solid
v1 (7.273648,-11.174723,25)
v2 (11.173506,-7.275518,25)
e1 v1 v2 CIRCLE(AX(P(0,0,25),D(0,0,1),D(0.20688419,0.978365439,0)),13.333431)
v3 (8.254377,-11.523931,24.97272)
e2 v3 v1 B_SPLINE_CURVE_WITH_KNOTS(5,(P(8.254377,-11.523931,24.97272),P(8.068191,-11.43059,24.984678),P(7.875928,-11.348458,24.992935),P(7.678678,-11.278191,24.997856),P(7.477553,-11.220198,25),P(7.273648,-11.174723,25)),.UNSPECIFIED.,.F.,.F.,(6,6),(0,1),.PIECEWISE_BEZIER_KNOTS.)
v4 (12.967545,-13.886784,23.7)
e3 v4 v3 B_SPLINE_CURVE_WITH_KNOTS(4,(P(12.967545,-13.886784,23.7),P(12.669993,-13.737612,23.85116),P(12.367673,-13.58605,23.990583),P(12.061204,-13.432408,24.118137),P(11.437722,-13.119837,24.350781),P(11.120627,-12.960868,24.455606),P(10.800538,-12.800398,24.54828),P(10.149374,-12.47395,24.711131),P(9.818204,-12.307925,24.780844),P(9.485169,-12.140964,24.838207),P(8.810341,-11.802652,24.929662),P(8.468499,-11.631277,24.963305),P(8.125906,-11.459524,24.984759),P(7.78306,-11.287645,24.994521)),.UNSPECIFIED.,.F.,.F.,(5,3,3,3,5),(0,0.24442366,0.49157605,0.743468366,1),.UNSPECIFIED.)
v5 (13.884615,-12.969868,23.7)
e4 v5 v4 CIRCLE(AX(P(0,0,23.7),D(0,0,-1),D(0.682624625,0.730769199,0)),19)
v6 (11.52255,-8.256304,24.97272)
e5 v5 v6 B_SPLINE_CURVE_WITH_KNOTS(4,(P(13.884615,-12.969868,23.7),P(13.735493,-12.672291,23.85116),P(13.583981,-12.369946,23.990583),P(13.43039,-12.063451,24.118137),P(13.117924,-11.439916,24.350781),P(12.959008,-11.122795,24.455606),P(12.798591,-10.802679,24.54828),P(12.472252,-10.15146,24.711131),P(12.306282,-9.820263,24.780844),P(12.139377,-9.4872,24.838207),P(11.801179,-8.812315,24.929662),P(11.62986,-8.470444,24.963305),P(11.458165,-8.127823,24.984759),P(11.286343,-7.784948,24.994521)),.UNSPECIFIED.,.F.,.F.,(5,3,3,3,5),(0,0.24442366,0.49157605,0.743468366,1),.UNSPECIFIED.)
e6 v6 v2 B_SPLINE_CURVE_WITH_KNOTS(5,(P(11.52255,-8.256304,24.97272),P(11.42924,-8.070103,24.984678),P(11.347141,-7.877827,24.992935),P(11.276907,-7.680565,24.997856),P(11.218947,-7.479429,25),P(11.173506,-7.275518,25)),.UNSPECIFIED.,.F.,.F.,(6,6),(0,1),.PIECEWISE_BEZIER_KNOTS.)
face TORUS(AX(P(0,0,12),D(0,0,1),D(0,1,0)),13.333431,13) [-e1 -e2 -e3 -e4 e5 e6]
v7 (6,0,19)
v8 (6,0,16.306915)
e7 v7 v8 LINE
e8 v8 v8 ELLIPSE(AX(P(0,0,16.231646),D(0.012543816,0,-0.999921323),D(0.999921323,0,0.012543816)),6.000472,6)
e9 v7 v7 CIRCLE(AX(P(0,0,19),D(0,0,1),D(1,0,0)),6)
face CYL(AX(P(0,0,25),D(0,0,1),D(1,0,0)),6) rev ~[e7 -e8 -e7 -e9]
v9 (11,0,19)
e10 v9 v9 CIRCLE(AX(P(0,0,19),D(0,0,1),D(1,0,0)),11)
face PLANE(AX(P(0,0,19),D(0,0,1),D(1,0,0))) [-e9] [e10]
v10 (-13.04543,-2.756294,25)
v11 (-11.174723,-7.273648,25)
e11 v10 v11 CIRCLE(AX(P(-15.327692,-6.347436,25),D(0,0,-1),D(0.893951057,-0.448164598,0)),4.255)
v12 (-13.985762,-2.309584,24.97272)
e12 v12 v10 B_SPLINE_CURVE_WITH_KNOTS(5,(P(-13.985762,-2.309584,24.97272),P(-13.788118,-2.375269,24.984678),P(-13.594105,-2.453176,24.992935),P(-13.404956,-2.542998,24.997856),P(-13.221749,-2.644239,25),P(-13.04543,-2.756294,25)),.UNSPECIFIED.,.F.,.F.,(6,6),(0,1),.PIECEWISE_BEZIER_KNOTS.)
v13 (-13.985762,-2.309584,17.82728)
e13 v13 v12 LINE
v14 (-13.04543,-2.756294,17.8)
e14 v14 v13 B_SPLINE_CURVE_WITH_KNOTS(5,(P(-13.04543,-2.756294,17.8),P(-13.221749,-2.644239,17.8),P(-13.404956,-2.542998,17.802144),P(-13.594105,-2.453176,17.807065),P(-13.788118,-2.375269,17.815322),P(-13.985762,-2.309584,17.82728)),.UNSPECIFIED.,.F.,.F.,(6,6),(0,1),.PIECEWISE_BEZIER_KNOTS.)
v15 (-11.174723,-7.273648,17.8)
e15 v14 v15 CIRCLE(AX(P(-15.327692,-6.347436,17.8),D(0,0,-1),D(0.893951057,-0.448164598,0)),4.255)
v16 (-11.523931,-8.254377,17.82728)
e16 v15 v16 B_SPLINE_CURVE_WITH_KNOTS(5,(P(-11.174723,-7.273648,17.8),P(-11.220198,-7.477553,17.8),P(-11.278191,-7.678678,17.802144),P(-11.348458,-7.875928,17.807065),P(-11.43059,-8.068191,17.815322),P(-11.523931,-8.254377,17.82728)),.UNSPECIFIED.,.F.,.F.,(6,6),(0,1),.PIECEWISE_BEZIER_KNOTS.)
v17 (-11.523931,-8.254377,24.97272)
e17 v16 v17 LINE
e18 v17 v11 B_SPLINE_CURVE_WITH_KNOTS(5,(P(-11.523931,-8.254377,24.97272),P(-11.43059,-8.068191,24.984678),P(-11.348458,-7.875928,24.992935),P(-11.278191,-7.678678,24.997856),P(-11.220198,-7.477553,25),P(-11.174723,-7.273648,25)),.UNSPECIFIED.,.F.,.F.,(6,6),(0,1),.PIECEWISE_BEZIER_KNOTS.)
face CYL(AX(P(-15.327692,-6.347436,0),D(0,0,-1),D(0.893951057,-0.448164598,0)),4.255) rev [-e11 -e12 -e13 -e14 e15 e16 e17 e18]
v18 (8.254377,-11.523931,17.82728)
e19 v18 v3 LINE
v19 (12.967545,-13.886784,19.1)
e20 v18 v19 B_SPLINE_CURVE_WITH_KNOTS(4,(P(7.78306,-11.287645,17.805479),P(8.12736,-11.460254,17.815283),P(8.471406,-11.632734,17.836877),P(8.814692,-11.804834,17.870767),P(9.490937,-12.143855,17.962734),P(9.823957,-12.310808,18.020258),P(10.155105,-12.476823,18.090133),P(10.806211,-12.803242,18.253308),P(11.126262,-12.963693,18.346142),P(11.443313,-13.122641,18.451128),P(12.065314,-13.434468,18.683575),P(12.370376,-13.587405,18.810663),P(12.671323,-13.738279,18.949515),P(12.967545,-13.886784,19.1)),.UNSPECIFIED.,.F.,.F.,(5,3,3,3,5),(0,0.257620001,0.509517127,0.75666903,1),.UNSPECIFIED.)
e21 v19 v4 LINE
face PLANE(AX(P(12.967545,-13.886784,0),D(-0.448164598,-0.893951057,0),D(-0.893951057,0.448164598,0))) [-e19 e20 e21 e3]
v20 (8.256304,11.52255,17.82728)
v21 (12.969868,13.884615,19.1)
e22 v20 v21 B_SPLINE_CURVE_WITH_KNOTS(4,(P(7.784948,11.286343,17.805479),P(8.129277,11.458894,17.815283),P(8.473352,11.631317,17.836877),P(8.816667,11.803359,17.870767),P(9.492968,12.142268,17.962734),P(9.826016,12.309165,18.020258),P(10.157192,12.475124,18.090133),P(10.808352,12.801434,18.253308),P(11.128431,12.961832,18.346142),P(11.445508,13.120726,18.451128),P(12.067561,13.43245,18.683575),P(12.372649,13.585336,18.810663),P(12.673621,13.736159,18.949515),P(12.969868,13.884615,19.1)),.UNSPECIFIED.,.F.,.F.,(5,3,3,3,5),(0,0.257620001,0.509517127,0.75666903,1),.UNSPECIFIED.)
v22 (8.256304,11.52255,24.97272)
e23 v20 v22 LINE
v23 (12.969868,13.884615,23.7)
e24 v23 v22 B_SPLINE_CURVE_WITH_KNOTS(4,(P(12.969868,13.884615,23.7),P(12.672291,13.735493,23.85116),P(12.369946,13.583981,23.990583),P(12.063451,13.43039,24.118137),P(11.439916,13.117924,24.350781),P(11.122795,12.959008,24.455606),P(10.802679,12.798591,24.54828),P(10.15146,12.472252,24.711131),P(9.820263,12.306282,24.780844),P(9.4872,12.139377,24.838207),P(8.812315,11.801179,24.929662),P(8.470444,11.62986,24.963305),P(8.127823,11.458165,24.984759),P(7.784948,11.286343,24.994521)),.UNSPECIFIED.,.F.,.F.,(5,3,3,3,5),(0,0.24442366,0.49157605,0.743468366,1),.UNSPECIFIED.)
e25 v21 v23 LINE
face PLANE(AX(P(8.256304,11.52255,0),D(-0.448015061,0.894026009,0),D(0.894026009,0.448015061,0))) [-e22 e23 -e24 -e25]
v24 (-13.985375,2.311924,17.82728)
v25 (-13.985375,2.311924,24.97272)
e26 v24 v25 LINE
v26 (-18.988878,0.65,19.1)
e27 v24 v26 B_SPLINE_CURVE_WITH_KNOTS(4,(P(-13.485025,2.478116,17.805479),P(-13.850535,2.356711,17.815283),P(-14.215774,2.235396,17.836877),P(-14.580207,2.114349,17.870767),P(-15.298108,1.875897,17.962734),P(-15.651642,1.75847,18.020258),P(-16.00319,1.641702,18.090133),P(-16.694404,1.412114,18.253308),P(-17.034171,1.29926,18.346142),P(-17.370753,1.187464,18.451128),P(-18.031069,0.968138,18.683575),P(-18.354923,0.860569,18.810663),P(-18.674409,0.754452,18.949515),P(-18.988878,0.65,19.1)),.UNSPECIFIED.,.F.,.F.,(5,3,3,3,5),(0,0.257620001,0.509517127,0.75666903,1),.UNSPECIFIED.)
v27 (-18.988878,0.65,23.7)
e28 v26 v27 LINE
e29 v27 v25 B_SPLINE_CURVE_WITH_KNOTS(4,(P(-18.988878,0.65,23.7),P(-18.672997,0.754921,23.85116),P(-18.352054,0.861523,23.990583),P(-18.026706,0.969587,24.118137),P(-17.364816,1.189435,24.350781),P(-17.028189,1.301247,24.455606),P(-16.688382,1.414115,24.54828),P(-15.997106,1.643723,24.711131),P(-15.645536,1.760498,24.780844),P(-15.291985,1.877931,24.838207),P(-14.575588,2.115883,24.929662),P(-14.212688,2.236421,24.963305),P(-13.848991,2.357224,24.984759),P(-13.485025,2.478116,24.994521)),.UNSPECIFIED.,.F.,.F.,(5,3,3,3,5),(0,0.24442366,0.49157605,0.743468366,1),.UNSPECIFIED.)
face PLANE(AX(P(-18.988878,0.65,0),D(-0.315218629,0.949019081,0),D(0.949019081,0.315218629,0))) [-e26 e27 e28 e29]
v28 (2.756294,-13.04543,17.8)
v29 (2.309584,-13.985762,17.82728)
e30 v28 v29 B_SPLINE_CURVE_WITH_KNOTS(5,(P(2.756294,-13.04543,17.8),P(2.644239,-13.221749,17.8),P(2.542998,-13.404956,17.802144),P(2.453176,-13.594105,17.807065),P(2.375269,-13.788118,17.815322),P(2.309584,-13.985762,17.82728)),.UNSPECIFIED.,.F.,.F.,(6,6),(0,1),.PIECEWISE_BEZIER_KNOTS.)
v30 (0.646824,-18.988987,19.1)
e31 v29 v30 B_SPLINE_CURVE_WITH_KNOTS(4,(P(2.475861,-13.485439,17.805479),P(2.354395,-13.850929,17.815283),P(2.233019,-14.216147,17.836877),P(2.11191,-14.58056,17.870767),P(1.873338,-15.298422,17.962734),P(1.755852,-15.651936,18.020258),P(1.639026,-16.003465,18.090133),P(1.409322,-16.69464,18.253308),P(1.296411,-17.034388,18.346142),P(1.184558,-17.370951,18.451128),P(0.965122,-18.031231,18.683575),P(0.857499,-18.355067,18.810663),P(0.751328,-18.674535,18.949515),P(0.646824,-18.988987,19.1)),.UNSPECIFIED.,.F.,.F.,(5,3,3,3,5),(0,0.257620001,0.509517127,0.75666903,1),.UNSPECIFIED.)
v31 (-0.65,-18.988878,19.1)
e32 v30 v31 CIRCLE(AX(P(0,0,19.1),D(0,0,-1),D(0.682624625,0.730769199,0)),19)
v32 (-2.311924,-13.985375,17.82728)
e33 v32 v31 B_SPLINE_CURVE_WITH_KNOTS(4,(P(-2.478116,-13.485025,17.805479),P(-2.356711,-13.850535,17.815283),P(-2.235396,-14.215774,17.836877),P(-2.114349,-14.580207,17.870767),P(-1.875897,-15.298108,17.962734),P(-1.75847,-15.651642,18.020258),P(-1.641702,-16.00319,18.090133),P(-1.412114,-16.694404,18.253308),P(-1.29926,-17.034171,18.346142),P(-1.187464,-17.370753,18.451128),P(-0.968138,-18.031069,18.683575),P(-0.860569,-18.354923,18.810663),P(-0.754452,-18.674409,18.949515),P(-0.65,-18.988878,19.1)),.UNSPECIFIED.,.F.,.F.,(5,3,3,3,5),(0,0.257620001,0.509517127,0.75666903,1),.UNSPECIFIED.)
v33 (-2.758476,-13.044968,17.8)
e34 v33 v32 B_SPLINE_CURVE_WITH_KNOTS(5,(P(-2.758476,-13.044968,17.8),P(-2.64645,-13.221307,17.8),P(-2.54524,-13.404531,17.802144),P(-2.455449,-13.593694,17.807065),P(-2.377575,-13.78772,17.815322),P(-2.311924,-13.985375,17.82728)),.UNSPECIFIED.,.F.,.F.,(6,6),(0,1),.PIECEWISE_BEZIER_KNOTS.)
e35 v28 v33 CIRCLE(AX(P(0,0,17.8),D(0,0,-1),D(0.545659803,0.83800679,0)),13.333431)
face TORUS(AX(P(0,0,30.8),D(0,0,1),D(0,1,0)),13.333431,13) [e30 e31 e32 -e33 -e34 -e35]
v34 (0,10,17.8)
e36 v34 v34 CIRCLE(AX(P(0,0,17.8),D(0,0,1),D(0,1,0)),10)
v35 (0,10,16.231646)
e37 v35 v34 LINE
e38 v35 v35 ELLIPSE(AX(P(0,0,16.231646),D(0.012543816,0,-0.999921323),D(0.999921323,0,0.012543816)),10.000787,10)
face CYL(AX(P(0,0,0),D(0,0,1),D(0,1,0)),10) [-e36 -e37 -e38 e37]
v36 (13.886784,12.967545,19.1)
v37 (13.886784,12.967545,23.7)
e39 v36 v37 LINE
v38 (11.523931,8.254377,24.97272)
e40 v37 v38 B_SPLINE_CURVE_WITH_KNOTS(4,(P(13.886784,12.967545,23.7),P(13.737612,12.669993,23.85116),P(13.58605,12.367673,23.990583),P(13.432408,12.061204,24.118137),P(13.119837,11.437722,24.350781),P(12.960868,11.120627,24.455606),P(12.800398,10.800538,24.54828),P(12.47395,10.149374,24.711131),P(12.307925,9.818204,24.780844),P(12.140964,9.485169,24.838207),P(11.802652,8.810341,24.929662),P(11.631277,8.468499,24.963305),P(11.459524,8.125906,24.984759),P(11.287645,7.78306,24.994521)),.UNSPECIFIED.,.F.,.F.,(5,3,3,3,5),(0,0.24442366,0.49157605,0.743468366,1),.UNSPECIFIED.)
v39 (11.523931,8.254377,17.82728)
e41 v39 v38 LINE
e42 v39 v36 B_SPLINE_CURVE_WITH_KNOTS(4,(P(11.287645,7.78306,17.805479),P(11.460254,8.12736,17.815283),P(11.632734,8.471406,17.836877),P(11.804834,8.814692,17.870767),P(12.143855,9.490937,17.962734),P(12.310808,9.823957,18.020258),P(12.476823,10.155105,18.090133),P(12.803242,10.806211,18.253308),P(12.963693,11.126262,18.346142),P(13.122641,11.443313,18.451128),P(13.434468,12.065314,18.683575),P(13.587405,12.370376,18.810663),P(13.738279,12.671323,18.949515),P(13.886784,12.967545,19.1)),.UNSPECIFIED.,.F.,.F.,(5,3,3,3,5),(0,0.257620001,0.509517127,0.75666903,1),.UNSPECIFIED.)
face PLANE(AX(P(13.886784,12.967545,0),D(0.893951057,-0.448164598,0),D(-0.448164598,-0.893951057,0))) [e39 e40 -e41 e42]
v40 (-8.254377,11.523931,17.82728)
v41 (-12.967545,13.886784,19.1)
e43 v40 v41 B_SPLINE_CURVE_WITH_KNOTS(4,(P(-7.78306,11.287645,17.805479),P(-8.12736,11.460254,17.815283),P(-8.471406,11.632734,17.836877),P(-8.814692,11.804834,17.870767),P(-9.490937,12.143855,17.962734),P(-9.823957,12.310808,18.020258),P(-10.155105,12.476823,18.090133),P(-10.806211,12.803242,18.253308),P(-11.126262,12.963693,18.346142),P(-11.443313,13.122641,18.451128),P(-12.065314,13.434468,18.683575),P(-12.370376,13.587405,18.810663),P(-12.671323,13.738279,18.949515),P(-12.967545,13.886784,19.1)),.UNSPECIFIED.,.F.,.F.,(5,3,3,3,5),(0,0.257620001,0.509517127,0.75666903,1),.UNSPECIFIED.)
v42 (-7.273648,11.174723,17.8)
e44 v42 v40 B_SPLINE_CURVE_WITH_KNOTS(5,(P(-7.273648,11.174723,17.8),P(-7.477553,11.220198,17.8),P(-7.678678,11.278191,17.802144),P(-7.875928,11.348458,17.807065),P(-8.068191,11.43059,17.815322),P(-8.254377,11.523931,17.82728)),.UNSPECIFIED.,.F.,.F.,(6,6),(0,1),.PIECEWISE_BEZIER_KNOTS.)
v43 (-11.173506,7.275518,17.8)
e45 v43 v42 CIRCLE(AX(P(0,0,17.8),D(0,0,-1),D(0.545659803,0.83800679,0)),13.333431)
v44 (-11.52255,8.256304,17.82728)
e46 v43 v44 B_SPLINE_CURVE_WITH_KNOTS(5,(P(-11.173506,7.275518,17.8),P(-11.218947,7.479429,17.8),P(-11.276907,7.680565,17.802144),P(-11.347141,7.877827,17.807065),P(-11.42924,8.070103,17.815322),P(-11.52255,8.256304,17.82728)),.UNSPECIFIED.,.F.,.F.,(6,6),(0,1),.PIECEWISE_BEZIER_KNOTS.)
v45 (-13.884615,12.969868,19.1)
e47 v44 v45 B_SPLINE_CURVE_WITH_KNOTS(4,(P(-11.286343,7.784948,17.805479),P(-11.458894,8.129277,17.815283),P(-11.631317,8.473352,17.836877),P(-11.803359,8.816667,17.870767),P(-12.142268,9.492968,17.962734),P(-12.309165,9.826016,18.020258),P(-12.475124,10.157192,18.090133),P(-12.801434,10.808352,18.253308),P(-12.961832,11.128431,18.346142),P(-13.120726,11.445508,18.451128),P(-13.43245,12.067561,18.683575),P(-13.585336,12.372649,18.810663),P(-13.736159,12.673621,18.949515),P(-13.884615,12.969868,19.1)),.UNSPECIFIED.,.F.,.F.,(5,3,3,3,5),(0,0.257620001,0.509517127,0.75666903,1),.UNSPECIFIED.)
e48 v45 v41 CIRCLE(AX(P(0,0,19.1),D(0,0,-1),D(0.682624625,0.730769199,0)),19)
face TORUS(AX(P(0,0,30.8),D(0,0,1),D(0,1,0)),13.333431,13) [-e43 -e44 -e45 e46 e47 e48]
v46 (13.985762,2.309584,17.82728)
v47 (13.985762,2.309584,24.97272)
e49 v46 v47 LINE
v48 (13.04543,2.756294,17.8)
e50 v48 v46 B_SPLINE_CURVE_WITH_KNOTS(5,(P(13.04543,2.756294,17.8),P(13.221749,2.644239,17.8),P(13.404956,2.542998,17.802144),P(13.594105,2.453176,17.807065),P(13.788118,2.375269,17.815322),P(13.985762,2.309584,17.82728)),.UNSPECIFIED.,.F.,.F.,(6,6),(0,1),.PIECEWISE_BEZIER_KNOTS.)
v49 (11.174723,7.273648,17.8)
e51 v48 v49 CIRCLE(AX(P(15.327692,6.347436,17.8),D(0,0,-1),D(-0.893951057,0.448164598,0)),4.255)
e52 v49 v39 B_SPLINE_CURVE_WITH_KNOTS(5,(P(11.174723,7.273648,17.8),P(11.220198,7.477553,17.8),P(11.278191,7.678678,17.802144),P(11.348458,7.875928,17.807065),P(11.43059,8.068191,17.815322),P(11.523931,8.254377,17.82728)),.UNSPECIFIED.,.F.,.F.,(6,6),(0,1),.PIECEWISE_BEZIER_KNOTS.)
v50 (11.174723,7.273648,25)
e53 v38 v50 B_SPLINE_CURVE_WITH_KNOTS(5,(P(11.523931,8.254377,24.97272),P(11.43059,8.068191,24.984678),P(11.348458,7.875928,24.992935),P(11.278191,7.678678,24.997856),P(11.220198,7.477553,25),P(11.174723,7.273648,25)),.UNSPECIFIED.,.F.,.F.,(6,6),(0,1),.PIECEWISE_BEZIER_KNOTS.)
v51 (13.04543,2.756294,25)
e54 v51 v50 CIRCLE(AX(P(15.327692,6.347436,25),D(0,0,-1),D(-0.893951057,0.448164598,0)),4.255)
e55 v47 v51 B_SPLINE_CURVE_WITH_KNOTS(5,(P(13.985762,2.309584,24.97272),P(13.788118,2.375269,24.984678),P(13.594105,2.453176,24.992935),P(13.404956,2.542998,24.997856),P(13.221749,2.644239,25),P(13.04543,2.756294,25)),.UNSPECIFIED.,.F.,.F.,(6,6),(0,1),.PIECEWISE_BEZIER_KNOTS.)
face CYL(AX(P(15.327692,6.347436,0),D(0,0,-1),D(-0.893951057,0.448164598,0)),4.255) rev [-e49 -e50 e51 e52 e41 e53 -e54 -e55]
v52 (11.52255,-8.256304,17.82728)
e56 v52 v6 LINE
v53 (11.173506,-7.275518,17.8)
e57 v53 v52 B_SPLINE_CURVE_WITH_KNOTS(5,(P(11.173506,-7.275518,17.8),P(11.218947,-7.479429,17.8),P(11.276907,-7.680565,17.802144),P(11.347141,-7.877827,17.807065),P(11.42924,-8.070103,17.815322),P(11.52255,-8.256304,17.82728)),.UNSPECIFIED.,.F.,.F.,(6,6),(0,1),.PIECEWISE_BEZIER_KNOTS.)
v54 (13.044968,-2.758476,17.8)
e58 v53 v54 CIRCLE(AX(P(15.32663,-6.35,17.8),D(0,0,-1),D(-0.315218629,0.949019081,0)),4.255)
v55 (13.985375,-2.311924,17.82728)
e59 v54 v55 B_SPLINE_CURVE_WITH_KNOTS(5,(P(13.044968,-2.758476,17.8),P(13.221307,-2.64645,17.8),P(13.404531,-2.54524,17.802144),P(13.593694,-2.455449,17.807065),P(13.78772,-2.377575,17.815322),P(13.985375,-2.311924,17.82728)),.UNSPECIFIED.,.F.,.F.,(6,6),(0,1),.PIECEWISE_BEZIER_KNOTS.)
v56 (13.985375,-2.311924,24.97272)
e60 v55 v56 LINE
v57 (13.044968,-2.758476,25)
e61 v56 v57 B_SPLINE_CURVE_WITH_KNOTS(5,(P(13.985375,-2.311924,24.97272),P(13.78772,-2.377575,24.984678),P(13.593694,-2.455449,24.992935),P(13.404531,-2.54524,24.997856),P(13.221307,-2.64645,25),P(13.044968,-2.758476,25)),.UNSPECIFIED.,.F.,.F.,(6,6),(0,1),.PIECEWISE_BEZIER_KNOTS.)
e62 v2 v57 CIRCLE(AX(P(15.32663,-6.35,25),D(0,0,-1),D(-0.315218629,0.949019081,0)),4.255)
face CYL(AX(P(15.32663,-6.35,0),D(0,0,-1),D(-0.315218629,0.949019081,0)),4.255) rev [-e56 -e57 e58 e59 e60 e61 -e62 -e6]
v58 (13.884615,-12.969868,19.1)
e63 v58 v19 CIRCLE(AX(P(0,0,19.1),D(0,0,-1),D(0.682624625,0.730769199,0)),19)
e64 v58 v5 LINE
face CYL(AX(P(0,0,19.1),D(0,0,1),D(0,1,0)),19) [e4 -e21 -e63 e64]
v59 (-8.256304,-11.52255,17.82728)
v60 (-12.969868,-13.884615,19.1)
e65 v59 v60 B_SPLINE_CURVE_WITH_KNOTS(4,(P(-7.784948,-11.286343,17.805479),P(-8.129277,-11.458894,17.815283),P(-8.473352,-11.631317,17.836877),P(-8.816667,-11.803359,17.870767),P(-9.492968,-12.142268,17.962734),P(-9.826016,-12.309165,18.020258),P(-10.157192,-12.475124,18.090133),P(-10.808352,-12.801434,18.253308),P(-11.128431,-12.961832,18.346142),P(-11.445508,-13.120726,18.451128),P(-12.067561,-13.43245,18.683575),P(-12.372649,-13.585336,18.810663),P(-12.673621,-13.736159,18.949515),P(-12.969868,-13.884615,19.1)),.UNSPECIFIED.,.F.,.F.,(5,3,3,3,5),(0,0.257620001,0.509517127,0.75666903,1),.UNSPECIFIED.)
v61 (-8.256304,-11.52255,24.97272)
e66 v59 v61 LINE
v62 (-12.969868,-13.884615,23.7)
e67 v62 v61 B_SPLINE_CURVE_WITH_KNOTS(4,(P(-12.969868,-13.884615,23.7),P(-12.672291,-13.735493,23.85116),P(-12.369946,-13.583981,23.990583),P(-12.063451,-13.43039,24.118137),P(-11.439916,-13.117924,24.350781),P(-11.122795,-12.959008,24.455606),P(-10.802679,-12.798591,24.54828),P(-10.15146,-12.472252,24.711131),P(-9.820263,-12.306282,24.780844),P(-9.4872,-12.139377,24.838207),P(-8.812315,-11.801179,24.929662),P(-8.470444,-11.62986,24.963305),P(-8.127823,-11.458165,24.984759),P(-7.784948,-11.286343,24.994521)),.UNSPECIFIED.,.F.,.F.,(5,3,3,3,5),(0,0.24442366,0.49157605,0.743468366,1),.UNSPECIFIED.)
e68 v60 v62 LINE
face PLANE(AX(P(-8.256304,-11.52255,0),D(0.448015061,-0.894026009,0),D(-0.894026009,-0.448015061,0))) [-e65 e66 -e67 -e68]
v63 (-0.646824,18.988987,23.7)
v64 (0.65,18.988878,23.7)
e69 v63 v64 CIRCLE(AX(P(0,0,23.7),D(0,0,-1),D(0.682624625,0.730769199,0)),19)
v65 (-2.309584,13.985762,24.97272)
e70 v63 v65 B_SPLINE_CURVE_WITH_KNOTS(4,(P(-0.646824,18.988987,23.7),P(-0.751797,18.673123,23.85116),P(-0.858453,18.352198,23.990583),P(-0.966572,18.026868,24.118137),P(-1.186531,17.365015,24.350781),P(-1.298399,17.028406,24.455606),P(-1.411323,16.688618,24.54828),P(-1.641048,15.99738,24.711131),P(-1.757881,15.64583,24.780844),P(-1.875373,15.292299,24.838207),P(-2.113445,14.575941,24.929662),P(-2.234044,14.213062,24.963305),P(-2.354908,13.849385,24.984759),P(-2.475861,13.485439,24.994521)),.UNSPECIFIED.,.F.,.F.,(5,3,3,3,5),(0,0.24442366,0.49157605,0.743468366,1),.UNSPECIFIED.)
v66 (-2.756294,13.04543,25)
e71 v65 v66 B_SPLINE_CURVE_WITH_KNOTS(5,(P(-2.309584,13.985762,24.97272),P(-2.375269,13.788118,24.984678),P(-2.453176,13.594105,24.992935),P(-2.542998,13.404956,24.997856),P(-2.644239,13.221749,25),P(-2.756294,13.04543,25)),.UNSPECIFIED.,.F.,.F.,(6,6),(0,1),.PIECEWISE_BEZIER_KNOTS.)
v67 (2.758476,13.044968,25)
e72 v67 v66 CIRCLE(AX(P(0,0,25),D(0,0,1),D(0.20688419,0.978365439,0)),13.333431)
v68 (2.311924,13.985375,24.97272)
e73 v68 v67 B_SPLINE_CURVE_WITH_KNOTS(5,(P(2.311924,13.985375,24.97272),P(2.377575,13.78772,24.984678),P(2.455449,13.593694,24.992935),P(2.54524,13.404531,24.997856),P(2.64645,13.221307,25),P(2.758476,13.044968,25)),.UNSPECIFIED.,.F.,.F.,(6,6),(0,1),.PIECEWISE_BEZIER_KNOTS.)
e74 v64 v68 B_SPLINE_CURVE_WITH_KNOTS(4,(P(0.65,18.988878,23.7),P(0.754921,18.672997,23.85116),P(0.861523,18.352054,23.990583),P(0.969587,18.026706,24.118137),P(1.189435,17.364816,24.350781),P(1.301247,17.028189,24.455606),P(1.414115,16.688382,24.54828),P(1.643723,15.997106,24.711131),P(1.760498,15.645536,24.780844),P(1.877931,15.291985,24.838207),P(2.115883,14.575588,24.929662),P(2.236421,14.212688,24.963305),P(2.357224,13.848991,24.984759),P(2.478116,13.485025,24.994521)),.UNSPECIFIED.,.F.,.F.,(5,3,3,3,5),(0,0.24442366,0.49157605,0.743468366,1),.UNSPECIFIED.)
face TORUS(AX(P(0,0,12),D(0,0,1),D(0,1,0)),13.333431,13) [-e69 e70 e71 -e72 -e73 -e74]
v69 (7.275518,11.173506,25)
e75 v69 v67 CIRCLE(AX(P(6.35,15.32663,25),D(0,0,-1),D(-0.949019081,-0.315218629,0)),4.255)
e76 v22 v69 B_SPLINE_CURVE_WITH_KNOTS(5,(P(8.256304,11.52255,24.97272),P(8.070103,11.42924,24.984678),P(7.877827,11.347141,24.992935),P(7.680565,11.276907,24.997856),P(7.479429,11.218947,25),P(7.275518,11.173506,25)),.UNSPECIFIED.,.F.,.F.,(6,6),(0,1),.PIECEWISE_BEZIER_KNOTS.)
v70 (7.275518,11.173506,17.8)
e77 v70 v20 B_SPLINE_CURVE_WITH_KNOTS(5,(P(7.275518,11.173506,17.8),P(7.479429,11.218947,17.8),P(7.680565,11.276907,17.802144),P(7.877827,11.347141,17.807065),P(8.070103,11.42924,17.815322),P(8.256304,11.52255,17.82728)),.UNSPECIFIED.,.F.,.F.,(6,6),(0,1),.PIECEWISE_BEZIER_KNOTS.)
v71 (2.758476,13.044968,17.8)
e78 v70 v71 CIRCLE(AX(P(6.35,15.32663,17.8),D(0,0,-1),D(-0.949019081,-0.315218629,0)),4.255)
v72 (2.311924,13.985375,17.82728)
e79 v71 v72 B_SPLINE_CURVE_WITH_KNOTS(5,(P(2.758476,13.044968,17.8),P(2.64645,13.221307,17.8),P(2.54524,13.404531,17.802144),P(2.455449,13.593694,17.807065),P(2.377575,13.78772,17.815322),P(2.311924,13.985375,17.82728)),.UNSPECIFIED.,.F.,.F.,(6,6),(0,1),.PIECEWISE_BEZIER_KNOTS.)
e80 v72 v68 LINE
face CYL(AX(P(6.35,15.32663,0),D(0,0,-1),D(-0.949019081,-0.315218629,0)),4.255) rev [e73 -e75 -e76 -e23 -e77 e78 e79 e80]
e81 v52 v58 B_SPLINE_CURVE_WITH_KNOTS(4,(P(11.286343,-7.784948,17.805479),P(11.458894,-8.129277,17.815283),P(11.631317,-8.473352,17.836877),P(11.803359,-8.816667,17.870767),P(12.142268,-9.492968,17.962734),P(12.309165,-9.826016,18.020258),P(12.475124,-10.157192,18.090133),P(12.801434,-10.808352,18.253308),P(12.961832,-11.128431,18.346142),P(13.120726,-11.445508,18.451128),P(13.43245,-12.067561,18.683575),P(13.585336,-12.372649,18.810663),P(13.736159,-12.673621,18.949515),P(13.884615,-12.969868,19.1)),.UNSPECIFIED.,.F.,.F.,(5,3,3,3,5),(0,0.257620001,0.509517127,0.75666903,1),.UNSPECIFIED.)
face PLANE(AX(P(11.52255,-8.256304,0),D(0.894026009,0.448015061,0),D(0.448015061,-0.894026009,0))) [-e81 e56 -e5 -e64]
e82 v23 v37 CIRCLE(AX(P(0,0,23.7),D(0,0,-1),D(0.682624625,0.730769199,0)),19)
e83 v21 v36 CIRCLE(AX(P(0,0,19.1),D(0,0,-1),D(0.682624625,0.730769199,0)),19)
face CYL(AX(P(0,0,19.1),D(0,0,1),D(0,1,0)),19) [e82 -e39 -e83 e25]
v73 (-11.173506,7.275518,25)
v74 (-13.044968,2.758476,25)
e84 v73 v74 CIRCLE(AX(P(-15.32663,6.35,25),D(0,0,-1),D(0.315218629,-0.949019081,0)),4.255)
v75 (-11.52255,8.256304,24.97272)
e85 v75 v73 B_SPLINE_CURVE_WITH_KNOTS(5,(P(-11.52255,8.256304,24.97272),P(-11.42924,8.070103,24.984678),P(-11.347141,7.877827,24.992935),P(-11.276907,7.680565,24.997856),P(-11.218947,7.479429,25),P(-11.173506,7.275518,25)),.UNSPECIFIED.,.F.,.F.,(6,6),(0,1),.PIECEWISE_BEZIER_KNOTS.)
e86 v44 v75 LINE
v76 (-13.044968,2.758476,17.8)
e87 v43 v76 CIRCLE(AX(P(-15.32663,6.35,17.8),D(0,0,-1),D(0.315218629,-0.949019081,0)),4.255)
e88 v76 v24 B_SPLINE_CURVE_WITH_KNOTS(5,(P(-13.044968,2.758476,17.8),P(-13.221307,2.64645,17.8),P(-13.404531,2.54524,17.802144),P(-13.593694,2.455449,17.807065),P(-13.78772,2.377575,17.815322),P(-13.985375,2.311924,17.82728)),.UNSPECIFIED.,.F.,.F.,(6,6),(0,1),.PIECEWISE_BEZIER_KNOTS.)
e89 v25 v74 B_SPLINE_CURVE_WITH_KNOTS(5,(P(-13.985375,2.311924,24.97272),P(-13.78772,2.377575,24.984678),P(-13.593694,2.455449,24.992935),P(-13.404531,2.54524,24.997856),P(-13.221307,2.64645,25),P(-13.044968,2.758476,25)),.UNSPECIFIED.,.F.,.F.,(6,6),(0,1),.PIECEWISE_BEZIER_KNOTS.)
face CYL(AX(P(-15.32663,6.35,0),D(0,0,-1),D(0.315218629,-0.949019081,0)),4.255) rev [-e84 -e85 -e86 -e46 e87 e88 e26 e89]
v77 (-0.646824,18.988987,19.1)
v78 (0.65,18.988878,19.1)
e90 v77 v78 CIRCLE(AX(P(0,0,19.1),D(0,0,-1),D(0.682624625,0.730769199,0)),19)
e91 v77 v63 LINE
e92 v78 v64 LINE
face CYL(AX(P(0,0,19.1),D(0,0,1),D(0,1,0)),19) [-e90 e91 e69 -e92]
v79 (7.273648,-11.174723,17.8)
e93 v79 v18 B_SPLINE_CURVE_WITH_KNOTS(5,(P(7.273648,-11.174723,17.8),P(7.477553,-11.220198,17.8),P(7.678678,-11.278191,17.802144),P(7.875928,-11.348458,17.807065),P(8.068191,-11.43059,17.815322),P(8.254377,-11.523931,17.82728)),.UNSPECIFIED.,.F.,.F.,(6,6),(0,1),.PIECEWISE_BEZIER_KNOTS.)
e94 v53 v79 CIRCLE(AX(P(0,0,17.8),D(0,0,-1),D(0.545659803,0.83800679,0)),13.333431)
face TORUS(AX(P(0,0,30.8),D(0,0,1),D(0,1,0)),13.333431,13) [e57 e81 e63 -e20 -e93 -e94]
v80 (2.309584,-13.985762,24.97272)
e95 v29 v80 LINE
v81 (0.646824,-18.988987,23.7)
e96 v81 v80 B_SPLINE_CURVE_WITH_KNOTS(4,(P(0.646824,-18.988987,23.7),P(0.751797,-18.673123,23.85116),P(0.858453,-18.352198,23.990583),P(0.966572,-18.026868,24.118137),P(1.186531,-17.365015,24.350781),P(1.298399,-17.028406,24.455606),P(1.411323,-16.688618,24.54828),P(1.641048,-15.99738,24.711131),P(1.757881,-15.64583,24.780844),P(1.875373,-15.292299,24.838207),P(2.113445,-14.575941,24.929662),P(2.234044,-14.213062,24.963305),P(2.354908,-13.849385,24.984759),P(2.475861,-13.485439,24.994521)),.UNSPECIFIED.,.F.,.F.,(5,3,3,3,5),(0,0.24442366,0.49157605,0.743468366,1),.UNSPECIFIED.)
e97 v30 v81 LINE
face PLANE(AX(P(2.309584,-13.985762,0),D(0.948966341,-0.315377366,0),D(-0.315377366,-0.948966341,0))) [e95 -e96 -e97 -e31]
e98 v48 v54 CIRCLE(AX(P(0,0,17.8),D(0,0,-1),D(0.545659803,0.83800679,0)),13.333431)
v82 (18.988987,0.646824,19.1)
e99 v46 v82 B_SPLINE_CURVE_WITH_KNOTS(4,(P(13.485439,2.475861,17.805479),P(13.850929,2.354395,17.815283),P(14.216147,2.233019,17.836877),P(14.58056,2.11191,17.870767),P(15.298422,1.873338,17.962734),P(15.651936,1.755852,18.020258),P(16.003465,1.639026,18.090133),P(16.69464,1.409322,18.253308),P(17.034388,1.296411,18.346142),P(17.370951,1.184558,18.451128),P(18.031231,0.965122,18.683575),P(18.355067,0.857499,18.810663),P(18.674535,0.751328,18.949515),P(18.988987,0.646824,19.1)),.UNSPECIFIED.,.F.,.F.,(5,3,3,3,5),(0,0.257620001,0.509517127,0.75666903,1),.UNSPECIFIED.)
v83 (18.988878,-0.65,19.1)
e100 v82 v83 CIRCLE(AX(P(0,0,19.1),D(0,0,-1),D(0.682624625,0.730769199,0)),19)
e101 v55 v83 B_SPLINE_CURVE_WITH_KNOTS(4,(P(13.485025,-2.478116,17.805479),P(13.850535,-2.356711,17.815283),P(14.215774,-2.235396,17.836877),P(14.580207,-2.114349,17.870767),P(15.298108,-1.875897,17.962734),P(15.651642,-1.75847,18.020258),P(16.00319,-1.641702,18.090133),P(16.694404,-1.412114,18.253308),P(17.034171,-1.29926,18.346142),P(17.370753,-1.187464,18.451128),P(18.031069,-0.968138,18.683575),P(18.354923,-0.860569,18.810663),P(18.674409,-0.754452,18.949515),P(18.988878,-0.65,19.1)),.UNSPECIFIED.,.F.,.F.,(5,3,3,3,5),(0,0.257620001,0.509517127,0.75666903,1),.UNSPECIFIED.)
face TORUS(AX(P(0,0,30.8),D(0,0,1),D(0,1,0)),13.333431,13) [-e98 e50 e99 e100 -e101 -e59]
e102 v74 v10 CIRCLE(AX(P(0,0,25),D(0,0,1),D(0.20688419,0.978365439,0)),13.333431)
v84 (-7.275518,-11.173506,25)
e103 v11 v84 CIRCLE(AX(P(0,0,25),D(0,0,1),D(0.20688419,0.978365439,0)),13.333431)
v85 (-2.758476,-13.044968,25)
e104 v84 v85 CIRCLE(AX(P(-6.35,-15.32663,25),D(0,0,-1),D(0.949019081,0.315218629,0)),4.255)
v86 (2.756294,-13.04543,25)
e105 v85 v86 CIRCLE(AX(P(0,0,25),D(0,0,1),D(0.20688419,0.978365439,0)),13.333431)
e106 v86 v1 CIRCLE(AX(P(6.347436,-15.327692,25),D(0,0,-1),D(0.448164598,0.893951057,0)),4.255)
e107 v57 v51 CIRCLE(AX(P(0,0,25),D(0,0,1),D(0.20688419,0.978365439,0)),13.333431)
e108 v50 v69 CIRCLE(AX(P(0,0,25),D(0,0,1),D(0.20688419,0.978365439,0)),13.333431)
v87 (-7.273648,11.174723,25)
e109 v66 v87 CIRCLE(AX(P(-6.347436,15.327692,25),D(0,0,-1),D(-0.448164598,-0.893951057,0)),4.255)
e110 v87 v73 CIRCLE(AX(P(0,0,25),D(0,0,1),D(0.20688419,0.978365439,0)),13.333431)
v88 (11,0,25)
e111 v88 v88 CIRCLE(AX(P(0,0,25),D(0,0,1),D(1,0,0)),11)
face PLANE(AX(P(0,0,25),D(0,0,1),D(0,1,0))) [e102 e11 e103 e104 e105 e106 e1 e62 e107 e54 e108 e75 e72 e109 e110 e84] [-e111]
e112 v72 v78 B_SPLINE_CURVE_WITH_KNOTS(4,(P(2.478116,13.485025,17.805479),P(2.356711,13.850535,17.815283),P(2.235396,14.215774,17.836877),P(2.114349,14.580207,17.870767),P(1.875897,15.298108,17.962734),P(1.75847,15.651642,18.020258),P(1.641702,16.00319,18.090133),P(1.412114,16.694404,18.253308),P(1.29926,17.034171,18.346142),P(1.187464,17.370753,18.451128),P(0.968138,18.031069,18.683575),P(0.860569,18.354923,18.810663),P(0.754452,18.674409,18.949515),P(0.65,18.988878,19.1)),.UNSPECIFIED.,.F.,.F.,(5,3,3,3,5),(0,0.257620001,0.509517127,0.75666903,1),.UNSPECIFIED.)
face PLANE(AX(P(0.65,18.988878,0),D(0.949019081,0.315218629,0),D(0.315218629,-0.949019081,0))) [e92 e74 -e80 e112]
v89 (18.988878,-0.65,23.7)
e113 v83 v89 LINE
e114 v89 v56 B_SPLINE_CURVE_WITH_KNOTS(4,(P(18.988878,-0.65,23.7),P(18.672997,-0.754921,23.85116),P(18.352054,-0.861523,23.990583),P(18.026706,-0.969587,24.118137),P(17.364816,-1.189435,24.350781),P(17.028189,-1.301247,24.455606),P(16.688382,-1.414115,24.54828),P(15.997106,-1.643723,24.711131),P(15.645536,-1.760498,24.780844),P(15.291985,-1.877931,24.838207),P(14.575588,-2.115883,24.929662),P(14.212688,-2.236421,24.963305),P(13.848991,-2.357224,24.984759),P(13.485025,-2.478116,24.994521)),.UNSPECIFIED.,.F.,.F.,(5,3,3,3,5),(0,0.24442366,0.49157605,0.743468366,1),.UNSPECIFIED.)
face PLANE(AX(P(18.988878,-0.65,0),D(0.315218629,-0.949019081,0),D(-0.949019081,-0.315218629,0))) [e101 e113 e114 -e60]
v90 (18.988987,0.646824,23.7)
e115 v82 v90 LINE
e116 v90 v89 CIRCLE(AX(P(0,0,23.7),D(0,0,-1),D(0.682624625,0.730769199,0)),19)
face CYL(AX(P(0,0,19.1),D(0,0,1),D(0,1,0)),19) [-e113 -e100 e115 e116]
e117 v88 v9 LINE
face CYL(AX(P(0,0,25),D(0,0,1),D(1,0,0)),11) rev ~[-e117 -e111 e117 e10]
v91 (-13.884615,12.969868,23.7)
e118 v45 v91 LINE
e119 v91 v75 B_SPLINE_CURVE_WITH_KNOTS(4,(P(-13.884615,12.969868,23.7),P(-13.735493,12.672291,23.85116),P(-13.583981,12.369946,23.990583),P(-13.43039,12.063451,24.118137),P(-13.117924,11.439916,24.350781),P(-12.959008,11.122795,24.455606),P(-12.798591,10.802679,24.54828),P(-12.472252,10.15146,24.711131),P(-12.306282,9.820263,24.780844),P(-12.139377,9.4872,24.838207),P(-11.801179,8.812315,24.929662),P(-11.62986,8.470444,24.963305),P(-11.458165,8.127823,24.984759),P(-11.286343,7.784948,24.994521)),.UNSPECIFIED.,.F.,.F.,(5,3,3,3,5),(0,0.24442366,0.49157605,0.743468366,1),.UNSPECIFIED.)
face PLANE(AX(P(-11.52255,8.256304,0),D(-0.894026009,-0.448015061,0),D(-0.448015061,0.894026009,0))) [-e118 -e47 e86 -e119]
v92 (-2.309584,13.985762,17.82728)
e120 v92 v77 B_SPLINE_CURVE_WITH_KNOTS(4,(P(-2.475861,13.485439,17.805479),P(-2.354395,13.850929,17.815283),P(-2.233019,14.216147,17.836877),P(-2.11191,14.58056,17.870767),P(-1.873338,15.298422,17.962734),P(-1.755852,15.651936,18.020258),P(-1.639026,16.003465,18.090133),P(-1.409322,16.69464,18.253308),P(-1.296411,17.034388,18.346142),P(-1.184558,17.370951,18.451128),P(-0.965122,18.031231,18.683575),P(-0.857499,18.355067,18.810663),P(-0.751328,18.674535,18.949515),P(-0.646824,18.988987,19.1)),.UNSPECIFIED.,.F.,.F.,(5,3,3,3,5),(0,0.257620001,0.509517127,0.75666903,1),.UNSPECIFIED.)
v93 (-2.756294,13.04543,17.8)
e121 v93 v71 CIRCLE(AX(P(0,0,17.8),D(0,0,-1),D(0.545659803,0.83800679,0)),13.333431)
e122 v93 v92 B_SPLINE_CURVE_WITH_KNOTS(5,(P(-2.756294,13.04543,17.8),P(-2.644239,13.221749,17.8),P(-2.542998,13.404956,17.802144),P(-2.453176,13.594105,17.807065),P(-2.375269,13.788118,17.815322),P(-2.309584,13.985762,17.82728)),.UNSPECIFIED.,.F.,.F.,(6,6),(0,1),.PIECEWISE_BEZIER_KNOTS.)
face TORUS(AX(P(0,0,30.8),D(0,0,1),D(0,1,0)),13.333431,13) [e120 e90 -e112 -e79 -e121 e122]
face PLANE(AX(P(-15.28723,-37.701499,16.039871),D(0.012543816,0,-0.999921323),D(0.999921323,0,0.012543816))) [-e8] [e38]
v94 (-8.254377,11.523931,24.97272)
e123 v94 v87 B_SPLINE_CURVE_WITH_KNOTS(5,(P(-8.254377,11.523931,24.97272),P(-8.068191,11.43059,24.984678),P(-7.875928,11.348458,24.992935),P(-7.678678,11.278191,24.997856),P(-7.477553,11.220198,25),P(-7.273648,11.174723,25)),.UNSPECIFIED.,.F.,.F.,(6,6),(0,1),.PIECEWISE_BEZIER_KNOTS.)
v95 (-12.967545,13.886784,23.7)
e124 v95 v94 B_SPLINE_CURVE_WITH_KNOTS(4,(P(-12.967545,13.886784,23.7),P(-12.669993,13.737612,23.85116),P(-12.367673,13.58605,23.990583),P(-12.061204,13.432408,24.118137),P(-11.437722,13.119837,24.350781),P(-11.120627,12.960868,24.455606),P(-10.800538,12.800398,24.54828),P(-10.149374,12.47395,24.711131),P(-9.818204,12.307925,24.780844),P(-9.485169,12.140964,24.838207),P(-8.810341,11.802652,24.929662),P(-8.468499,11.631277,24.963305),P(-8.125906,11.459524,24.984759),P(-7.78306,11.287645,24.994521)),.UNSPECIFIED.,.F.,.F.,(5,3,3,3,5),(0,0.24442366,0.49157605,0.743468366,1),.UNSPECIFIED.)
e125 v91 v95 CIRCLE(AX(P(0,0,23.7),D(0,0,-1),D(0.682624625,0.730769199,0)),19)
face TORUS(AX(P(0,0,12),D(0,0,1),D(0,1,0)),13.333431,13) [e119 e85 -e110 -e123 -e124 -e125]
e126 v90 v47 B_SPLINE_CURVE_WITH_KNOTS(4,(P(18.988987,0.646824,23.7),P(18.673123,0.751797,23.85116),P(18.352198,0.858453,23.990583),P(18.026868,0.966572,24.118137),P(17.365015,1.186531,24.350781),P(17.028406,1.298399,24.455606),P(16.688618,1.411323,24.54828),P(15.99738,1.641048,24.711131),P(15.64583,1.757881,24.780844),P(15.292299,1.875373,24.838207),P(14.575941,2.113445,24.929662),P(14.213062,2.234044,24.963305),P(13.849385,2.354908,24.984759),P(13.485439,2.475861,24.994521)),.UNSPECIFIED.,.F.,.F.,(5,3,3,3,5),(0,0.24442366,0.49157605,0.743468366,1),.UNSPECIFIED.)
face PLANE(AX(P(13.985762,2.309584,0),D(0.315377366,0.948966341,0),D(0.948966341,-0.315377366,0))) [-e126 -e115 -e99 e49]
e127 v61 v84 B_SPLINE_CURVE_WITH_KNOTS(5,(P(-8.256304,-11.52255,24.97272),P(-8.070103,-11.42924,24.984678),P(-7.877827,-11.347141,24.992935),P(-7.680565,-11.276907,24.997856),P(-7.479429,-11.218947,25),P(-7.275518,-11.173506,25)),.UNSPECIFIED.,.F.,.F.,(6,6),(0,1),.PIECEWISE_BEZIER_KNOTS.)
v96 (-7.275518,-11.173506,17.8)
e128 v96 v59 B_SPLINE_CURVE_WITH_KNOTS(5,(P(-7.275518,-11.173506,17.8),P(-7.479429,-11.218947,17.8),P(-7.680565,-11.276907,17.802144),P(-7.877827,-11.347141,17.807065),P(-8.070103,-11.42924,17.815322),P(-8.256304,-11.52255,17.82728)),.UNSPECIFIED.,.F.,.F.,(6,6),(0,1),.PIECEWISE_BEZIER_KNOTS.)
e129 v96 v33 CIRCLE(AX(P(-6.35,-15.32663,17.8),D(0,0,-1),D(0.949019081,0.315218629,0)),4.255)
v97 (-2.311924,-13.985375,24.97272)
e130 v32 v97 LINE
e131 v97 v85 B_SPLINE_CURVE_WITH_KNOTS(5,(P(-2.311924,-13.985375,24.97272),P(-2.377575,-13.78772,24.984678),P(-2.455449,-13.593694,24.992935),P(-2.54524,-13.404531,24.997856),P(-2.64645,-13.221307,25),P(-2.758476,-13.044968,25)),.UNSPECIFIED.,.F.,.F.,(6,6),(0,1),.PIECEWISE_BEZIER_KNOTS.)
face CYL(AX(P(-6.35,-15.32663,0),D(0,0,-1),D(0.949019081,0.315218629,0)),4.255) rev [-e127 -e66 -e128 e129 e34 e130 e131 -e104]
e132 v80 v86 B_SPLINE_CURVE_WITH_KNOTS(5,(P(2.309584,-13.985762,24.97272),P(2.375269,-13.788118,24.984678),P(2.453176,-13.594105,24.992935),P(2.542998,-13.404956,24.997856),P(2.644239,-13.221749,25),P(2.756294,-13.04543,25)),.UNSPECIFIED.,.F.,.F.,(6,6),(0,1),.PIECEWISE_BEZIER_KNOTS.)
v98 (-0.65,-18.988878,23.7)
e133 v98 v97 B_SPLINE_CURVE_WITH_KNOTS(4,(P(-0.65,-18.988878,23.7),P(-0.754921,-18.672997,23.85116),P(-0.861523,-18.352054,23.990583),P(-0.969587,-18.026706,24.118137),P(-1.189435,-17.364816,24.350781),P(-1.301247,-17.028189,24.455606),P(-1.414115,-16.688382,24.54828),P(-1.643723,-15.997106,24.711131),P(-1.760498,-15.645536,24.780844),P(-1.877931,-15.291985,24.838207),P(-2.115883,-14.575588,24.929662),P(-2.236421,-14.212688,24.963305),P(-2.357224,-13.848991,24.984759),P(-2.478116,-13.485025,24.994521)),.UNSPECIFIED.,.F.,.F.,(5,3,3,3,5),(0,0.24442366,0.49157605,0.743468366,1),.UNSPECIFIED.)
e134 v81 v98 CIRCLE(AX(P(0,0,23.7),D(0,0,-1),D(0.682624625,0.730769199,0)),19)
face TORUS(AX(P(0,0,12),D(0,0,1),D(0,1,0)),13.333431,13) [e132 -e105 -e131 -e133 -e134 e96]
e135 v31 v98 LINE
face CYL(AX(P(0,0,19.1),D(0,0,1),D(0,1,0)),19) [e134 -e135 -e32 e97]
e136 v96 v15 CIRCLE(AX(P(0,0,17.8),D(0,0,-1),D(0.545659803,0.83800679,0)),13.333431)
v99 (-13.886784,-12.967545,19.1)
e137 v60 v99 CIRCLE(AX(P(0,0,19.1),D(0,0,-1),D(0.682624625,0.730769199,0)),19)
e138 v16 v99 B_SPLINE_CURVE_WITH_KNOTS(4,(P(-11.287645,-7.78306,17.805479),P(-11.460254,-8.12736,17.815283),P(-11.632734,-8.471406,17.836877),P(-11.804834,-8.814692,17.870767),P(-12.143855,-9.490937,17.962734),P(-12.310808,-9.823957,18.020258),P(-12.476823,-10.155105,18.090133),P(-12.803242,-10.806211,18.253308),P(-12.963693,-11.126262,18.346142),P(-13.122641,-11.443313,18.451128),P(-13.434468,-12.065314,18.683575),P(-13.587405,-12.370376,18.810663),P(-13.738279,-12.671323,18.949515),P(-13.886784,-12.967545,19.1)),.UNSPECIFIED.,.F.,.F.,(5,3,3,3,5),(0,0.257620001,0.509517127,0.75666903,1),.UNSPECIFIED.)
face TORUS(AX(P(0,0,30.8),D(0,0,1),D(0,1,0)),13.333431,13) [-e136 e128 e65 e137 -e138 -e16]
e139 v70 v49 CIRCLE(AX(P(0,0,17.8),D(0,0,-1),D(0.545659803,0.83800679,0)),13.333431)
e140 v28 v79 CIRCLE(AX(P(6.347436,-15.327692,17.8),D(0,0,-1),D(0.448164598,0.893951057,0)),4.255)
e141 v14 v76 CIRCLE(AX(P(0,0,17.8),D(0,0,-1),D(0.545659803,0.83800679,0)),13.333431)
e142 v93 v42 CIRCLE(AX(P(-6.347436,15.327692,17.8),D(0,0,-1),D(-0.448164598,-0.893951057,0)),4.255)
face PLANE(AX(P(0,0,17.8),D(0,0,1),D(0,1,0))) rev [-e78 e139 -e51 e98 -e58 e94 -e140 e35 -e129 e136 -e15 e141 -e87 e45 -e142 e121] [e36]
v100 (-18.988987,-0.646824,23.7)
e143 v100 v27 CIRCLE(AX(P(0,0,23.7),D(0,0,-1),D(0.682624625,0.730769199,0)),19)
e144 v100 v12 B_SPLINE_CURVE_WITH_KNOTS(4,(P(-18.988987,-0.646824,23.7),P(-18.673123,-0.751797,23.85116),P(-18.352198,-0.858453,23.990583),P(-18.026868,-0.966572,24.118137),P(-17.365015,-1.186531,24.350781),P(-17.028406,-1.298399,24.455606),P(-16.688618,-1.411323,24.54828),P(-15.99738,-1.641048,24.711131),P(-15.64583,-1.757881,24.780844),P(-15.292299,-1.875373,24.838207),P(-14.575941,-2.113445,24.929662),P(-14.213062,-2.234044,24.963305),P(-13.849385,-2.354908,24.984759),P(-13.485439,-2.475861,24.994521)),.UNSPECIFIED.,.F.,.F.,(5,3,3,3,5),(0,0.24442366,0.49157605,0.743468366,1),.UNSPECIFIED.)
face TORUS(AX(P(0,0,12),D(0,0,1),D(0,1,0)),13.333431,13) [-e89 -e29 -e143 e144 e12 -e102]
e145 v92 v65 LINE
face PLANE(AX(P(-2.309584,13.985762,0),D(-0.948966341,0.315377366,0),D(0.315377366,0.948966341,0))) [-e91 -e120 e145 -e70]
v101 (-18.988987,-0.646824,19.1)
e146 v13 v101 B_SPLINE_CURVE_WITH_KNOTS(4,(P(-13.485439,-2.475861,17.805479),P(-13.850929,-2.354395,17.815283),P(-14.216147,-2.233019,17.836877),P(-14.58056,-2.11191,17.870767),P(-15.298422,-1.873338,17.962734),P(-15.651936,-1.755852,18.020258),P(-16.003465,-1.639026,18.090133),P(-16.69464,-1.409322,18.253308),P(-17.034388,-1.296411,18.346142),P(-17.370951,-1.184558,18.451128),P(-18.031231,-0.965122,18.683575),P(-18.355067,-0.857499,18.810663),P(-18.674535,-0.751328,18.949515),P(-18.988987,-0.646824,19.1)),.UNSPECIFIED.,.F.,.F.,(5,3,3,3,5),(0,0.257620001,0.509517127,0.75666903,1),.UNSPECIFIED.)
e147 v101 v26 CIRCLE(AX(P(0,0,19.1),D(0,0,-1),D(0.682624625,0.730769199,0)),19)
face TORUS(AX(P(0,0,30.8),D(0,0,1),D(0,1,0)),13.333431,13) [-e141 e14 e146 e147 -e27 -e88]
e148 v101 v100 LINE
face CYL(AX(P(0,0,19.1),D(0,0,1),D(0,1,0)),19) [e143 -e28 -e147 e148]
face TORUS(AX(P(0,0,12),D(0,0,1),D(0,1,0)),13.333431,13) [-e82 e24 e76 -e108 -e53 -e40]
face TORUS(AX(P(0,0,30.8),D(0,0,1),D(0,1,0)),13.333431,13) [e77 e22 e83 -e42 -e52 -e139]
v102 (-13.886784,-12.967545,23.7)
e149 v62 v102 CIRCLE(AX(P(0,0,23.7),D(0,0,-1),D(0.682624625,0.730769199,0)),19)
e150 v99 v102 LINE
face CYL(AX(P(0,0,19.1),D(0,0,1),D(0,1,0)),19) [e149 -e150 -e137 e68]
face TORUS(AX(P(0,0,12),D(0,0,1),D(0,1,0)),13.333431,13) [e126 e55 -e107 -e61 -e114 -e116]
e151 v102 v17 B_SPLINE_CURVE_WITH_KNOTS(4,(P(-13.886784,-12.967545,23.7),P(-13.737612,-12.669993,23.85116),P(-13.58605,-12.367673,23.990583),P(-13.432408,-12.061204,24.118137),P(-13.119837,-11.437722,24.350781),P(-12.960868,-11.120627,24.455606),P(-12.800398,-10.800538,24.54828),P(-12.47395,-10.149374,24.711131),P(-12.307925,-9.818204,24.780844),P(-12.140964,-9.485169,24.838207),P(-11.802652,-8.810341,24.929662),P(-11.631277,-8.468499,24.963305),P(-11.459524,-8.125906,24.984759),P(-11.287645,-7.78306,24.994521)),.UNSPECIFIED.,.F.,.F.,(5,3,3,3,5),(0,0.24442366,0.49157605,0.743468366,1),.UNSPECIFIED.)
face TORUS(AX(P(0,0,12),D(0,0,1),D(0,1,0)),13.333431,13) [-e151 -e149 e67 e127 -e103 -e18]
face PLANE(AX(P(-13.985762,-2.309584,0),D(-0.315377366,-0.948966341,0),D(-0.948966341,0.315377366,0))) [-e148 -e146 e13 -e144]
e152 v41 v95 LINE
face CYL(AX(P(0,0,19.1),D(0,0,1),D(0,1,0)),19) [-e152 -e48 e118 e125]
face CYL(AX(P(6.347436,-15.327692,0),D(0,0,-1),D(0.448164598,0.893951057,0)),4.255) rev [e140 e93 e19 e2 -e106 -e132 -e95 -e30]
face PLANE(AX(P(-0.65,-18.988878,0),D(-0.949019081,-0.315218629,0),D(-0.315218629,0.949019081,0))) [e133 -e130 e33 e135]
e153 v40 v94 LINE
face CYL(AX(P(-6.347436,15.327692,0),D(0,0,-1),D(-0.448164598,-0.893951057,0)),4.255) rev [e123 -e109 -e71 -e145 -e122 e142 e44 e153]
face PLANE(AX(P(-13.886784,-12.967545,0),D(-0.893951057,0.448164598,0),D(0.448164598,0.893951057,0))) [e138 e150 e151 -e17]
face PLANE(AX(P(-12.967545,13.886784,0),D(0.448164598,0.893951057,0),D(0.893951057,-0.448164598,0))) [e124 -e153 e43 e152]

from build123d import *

# Parameters (mm, degrees)
CUT_EXTRUDE_1_DEPTH      = 37.701498607
PATTERN_CIRCULAR_1_COUNT = 8
SKETCH_14_R              = 6
CUT_EXTRUDE_5_DEPTH      = 28
SKETCH_15_R              = 11
CUT_EXTRUDE_6_DEPTH      = 6
CUT_EXTRUDE_7_DEPTH      = 37.701498779
CUT_EXTRUDE_7_DEPTH_BACK = 37.701498779


with BuildPart() as part:
    # 草图4 → 旋转1 (revolve)
    with BuildSketch(Plane(origin=(0, 0, 0), x_dir=(0, 0, -1), z_dir=(1, 0, 0))):
        with BuildLine():
            Line((0, 10), (-17.8, 10))
            Line((-17.8, 10), (-17.8, 13.333431373))
            ThreePointArc((-17.8, 13.333431373), (-18.129167352, 16.240319744), (-19.1, 19))
            Line((-19.1, 19), (-23.7, 19))
            ThreePointArc((-23.7, 19), (-24.670832648, 16.240319744), (-25, 13.333431373))
            Line((-25, 13.333431373), (-25, 5))
            Line((-25, 5), (0, 5))
            Line((0, 5), (0, 10))
        make_face()
    revolve(axis=Axis((0, 0, 0), (0, 0, 1)))

    # 草图5 → 切除-拉伸1 (cut, through all)
    with BuildSketch(Plane.XY):
        with BuildLine():
            Line((0.65, 18.988878324), (2.31192381, 13.985375154))
            ThreePointArc((2.31192381, 13.985375154), (4.721353225, 11.395659205), (8.256304086, 11.522549751))
            Line((8.256304086, 11.522549751), (12.969867869, 13.884614776))
            ThreePointArc((12.969867869, 13.884614776), (7.272453285, 17.553102951), (0.65, 18.988878324))
        make_face()
    cut_extrude_1 = extrude(amount=CUT_EXTRUDE_1_DEPTH, mode=Mode.SUBTRACT)

    # 阵列(圆周)1: 切除-拉伸1 ×8 about axis
    pattern_circular_1_axis = Axis((0, 0, 0), (0, 0, 1))
    for i in range(1, PATTERN_CIRCULAR_1_COUNT):
        add(cut_extrude_1.rotate(pattern_circular_1_axis, i * 360 / PATTERN_CIRCULAR_1_COUNT), mode=Mode.SUBTRACT)

    # 草图14 → 切除-拉伸5 (cut)
    with BuildSketch(Plane.XY.offset(25)):
        Circle(SKETCH_14_R)
    extrude(amount=-CUT_EXTRUDE_5_DEPTH, mode=Mode.SUBTRACT)

    # 草图15 → 切除-拉伸6 (cut)
    with BuildSketch(Plane.XY.offset(25)):
        Circle(SKETCH_15_R)
    extrude(amount=-CUT_EXTRUDE_6_DEPTH, mode=Mode.SUBTRACT)

    # 草图16 → 切除-拉伸7 (cut, two sides: drawn at the far end of the back side and taken through both)
    with BuildSketch(Plane(origin=(0, 0, 0), x_dir=(1, 0, 0), z_dir=(0, 1, 0)).offset(-CUT_EXTRUDE_7_DEPTH_BACK)):
        Polygon((-109.354391609, -14.859816975), (-15.287230377, -16.039870969), (19.672911223, -16.478439053), (113.740072455, -17.658493047), (116.100180443, 170.475829416), (-106.994283621, 173.274505489), align=None)
    extrude(amount=CUT_EXTRUDE_7_DEPTH + CUT_EXTRUDE_7_DEPTH_BACK, mode=Mode.SUBTRACT)


solid = part.part
